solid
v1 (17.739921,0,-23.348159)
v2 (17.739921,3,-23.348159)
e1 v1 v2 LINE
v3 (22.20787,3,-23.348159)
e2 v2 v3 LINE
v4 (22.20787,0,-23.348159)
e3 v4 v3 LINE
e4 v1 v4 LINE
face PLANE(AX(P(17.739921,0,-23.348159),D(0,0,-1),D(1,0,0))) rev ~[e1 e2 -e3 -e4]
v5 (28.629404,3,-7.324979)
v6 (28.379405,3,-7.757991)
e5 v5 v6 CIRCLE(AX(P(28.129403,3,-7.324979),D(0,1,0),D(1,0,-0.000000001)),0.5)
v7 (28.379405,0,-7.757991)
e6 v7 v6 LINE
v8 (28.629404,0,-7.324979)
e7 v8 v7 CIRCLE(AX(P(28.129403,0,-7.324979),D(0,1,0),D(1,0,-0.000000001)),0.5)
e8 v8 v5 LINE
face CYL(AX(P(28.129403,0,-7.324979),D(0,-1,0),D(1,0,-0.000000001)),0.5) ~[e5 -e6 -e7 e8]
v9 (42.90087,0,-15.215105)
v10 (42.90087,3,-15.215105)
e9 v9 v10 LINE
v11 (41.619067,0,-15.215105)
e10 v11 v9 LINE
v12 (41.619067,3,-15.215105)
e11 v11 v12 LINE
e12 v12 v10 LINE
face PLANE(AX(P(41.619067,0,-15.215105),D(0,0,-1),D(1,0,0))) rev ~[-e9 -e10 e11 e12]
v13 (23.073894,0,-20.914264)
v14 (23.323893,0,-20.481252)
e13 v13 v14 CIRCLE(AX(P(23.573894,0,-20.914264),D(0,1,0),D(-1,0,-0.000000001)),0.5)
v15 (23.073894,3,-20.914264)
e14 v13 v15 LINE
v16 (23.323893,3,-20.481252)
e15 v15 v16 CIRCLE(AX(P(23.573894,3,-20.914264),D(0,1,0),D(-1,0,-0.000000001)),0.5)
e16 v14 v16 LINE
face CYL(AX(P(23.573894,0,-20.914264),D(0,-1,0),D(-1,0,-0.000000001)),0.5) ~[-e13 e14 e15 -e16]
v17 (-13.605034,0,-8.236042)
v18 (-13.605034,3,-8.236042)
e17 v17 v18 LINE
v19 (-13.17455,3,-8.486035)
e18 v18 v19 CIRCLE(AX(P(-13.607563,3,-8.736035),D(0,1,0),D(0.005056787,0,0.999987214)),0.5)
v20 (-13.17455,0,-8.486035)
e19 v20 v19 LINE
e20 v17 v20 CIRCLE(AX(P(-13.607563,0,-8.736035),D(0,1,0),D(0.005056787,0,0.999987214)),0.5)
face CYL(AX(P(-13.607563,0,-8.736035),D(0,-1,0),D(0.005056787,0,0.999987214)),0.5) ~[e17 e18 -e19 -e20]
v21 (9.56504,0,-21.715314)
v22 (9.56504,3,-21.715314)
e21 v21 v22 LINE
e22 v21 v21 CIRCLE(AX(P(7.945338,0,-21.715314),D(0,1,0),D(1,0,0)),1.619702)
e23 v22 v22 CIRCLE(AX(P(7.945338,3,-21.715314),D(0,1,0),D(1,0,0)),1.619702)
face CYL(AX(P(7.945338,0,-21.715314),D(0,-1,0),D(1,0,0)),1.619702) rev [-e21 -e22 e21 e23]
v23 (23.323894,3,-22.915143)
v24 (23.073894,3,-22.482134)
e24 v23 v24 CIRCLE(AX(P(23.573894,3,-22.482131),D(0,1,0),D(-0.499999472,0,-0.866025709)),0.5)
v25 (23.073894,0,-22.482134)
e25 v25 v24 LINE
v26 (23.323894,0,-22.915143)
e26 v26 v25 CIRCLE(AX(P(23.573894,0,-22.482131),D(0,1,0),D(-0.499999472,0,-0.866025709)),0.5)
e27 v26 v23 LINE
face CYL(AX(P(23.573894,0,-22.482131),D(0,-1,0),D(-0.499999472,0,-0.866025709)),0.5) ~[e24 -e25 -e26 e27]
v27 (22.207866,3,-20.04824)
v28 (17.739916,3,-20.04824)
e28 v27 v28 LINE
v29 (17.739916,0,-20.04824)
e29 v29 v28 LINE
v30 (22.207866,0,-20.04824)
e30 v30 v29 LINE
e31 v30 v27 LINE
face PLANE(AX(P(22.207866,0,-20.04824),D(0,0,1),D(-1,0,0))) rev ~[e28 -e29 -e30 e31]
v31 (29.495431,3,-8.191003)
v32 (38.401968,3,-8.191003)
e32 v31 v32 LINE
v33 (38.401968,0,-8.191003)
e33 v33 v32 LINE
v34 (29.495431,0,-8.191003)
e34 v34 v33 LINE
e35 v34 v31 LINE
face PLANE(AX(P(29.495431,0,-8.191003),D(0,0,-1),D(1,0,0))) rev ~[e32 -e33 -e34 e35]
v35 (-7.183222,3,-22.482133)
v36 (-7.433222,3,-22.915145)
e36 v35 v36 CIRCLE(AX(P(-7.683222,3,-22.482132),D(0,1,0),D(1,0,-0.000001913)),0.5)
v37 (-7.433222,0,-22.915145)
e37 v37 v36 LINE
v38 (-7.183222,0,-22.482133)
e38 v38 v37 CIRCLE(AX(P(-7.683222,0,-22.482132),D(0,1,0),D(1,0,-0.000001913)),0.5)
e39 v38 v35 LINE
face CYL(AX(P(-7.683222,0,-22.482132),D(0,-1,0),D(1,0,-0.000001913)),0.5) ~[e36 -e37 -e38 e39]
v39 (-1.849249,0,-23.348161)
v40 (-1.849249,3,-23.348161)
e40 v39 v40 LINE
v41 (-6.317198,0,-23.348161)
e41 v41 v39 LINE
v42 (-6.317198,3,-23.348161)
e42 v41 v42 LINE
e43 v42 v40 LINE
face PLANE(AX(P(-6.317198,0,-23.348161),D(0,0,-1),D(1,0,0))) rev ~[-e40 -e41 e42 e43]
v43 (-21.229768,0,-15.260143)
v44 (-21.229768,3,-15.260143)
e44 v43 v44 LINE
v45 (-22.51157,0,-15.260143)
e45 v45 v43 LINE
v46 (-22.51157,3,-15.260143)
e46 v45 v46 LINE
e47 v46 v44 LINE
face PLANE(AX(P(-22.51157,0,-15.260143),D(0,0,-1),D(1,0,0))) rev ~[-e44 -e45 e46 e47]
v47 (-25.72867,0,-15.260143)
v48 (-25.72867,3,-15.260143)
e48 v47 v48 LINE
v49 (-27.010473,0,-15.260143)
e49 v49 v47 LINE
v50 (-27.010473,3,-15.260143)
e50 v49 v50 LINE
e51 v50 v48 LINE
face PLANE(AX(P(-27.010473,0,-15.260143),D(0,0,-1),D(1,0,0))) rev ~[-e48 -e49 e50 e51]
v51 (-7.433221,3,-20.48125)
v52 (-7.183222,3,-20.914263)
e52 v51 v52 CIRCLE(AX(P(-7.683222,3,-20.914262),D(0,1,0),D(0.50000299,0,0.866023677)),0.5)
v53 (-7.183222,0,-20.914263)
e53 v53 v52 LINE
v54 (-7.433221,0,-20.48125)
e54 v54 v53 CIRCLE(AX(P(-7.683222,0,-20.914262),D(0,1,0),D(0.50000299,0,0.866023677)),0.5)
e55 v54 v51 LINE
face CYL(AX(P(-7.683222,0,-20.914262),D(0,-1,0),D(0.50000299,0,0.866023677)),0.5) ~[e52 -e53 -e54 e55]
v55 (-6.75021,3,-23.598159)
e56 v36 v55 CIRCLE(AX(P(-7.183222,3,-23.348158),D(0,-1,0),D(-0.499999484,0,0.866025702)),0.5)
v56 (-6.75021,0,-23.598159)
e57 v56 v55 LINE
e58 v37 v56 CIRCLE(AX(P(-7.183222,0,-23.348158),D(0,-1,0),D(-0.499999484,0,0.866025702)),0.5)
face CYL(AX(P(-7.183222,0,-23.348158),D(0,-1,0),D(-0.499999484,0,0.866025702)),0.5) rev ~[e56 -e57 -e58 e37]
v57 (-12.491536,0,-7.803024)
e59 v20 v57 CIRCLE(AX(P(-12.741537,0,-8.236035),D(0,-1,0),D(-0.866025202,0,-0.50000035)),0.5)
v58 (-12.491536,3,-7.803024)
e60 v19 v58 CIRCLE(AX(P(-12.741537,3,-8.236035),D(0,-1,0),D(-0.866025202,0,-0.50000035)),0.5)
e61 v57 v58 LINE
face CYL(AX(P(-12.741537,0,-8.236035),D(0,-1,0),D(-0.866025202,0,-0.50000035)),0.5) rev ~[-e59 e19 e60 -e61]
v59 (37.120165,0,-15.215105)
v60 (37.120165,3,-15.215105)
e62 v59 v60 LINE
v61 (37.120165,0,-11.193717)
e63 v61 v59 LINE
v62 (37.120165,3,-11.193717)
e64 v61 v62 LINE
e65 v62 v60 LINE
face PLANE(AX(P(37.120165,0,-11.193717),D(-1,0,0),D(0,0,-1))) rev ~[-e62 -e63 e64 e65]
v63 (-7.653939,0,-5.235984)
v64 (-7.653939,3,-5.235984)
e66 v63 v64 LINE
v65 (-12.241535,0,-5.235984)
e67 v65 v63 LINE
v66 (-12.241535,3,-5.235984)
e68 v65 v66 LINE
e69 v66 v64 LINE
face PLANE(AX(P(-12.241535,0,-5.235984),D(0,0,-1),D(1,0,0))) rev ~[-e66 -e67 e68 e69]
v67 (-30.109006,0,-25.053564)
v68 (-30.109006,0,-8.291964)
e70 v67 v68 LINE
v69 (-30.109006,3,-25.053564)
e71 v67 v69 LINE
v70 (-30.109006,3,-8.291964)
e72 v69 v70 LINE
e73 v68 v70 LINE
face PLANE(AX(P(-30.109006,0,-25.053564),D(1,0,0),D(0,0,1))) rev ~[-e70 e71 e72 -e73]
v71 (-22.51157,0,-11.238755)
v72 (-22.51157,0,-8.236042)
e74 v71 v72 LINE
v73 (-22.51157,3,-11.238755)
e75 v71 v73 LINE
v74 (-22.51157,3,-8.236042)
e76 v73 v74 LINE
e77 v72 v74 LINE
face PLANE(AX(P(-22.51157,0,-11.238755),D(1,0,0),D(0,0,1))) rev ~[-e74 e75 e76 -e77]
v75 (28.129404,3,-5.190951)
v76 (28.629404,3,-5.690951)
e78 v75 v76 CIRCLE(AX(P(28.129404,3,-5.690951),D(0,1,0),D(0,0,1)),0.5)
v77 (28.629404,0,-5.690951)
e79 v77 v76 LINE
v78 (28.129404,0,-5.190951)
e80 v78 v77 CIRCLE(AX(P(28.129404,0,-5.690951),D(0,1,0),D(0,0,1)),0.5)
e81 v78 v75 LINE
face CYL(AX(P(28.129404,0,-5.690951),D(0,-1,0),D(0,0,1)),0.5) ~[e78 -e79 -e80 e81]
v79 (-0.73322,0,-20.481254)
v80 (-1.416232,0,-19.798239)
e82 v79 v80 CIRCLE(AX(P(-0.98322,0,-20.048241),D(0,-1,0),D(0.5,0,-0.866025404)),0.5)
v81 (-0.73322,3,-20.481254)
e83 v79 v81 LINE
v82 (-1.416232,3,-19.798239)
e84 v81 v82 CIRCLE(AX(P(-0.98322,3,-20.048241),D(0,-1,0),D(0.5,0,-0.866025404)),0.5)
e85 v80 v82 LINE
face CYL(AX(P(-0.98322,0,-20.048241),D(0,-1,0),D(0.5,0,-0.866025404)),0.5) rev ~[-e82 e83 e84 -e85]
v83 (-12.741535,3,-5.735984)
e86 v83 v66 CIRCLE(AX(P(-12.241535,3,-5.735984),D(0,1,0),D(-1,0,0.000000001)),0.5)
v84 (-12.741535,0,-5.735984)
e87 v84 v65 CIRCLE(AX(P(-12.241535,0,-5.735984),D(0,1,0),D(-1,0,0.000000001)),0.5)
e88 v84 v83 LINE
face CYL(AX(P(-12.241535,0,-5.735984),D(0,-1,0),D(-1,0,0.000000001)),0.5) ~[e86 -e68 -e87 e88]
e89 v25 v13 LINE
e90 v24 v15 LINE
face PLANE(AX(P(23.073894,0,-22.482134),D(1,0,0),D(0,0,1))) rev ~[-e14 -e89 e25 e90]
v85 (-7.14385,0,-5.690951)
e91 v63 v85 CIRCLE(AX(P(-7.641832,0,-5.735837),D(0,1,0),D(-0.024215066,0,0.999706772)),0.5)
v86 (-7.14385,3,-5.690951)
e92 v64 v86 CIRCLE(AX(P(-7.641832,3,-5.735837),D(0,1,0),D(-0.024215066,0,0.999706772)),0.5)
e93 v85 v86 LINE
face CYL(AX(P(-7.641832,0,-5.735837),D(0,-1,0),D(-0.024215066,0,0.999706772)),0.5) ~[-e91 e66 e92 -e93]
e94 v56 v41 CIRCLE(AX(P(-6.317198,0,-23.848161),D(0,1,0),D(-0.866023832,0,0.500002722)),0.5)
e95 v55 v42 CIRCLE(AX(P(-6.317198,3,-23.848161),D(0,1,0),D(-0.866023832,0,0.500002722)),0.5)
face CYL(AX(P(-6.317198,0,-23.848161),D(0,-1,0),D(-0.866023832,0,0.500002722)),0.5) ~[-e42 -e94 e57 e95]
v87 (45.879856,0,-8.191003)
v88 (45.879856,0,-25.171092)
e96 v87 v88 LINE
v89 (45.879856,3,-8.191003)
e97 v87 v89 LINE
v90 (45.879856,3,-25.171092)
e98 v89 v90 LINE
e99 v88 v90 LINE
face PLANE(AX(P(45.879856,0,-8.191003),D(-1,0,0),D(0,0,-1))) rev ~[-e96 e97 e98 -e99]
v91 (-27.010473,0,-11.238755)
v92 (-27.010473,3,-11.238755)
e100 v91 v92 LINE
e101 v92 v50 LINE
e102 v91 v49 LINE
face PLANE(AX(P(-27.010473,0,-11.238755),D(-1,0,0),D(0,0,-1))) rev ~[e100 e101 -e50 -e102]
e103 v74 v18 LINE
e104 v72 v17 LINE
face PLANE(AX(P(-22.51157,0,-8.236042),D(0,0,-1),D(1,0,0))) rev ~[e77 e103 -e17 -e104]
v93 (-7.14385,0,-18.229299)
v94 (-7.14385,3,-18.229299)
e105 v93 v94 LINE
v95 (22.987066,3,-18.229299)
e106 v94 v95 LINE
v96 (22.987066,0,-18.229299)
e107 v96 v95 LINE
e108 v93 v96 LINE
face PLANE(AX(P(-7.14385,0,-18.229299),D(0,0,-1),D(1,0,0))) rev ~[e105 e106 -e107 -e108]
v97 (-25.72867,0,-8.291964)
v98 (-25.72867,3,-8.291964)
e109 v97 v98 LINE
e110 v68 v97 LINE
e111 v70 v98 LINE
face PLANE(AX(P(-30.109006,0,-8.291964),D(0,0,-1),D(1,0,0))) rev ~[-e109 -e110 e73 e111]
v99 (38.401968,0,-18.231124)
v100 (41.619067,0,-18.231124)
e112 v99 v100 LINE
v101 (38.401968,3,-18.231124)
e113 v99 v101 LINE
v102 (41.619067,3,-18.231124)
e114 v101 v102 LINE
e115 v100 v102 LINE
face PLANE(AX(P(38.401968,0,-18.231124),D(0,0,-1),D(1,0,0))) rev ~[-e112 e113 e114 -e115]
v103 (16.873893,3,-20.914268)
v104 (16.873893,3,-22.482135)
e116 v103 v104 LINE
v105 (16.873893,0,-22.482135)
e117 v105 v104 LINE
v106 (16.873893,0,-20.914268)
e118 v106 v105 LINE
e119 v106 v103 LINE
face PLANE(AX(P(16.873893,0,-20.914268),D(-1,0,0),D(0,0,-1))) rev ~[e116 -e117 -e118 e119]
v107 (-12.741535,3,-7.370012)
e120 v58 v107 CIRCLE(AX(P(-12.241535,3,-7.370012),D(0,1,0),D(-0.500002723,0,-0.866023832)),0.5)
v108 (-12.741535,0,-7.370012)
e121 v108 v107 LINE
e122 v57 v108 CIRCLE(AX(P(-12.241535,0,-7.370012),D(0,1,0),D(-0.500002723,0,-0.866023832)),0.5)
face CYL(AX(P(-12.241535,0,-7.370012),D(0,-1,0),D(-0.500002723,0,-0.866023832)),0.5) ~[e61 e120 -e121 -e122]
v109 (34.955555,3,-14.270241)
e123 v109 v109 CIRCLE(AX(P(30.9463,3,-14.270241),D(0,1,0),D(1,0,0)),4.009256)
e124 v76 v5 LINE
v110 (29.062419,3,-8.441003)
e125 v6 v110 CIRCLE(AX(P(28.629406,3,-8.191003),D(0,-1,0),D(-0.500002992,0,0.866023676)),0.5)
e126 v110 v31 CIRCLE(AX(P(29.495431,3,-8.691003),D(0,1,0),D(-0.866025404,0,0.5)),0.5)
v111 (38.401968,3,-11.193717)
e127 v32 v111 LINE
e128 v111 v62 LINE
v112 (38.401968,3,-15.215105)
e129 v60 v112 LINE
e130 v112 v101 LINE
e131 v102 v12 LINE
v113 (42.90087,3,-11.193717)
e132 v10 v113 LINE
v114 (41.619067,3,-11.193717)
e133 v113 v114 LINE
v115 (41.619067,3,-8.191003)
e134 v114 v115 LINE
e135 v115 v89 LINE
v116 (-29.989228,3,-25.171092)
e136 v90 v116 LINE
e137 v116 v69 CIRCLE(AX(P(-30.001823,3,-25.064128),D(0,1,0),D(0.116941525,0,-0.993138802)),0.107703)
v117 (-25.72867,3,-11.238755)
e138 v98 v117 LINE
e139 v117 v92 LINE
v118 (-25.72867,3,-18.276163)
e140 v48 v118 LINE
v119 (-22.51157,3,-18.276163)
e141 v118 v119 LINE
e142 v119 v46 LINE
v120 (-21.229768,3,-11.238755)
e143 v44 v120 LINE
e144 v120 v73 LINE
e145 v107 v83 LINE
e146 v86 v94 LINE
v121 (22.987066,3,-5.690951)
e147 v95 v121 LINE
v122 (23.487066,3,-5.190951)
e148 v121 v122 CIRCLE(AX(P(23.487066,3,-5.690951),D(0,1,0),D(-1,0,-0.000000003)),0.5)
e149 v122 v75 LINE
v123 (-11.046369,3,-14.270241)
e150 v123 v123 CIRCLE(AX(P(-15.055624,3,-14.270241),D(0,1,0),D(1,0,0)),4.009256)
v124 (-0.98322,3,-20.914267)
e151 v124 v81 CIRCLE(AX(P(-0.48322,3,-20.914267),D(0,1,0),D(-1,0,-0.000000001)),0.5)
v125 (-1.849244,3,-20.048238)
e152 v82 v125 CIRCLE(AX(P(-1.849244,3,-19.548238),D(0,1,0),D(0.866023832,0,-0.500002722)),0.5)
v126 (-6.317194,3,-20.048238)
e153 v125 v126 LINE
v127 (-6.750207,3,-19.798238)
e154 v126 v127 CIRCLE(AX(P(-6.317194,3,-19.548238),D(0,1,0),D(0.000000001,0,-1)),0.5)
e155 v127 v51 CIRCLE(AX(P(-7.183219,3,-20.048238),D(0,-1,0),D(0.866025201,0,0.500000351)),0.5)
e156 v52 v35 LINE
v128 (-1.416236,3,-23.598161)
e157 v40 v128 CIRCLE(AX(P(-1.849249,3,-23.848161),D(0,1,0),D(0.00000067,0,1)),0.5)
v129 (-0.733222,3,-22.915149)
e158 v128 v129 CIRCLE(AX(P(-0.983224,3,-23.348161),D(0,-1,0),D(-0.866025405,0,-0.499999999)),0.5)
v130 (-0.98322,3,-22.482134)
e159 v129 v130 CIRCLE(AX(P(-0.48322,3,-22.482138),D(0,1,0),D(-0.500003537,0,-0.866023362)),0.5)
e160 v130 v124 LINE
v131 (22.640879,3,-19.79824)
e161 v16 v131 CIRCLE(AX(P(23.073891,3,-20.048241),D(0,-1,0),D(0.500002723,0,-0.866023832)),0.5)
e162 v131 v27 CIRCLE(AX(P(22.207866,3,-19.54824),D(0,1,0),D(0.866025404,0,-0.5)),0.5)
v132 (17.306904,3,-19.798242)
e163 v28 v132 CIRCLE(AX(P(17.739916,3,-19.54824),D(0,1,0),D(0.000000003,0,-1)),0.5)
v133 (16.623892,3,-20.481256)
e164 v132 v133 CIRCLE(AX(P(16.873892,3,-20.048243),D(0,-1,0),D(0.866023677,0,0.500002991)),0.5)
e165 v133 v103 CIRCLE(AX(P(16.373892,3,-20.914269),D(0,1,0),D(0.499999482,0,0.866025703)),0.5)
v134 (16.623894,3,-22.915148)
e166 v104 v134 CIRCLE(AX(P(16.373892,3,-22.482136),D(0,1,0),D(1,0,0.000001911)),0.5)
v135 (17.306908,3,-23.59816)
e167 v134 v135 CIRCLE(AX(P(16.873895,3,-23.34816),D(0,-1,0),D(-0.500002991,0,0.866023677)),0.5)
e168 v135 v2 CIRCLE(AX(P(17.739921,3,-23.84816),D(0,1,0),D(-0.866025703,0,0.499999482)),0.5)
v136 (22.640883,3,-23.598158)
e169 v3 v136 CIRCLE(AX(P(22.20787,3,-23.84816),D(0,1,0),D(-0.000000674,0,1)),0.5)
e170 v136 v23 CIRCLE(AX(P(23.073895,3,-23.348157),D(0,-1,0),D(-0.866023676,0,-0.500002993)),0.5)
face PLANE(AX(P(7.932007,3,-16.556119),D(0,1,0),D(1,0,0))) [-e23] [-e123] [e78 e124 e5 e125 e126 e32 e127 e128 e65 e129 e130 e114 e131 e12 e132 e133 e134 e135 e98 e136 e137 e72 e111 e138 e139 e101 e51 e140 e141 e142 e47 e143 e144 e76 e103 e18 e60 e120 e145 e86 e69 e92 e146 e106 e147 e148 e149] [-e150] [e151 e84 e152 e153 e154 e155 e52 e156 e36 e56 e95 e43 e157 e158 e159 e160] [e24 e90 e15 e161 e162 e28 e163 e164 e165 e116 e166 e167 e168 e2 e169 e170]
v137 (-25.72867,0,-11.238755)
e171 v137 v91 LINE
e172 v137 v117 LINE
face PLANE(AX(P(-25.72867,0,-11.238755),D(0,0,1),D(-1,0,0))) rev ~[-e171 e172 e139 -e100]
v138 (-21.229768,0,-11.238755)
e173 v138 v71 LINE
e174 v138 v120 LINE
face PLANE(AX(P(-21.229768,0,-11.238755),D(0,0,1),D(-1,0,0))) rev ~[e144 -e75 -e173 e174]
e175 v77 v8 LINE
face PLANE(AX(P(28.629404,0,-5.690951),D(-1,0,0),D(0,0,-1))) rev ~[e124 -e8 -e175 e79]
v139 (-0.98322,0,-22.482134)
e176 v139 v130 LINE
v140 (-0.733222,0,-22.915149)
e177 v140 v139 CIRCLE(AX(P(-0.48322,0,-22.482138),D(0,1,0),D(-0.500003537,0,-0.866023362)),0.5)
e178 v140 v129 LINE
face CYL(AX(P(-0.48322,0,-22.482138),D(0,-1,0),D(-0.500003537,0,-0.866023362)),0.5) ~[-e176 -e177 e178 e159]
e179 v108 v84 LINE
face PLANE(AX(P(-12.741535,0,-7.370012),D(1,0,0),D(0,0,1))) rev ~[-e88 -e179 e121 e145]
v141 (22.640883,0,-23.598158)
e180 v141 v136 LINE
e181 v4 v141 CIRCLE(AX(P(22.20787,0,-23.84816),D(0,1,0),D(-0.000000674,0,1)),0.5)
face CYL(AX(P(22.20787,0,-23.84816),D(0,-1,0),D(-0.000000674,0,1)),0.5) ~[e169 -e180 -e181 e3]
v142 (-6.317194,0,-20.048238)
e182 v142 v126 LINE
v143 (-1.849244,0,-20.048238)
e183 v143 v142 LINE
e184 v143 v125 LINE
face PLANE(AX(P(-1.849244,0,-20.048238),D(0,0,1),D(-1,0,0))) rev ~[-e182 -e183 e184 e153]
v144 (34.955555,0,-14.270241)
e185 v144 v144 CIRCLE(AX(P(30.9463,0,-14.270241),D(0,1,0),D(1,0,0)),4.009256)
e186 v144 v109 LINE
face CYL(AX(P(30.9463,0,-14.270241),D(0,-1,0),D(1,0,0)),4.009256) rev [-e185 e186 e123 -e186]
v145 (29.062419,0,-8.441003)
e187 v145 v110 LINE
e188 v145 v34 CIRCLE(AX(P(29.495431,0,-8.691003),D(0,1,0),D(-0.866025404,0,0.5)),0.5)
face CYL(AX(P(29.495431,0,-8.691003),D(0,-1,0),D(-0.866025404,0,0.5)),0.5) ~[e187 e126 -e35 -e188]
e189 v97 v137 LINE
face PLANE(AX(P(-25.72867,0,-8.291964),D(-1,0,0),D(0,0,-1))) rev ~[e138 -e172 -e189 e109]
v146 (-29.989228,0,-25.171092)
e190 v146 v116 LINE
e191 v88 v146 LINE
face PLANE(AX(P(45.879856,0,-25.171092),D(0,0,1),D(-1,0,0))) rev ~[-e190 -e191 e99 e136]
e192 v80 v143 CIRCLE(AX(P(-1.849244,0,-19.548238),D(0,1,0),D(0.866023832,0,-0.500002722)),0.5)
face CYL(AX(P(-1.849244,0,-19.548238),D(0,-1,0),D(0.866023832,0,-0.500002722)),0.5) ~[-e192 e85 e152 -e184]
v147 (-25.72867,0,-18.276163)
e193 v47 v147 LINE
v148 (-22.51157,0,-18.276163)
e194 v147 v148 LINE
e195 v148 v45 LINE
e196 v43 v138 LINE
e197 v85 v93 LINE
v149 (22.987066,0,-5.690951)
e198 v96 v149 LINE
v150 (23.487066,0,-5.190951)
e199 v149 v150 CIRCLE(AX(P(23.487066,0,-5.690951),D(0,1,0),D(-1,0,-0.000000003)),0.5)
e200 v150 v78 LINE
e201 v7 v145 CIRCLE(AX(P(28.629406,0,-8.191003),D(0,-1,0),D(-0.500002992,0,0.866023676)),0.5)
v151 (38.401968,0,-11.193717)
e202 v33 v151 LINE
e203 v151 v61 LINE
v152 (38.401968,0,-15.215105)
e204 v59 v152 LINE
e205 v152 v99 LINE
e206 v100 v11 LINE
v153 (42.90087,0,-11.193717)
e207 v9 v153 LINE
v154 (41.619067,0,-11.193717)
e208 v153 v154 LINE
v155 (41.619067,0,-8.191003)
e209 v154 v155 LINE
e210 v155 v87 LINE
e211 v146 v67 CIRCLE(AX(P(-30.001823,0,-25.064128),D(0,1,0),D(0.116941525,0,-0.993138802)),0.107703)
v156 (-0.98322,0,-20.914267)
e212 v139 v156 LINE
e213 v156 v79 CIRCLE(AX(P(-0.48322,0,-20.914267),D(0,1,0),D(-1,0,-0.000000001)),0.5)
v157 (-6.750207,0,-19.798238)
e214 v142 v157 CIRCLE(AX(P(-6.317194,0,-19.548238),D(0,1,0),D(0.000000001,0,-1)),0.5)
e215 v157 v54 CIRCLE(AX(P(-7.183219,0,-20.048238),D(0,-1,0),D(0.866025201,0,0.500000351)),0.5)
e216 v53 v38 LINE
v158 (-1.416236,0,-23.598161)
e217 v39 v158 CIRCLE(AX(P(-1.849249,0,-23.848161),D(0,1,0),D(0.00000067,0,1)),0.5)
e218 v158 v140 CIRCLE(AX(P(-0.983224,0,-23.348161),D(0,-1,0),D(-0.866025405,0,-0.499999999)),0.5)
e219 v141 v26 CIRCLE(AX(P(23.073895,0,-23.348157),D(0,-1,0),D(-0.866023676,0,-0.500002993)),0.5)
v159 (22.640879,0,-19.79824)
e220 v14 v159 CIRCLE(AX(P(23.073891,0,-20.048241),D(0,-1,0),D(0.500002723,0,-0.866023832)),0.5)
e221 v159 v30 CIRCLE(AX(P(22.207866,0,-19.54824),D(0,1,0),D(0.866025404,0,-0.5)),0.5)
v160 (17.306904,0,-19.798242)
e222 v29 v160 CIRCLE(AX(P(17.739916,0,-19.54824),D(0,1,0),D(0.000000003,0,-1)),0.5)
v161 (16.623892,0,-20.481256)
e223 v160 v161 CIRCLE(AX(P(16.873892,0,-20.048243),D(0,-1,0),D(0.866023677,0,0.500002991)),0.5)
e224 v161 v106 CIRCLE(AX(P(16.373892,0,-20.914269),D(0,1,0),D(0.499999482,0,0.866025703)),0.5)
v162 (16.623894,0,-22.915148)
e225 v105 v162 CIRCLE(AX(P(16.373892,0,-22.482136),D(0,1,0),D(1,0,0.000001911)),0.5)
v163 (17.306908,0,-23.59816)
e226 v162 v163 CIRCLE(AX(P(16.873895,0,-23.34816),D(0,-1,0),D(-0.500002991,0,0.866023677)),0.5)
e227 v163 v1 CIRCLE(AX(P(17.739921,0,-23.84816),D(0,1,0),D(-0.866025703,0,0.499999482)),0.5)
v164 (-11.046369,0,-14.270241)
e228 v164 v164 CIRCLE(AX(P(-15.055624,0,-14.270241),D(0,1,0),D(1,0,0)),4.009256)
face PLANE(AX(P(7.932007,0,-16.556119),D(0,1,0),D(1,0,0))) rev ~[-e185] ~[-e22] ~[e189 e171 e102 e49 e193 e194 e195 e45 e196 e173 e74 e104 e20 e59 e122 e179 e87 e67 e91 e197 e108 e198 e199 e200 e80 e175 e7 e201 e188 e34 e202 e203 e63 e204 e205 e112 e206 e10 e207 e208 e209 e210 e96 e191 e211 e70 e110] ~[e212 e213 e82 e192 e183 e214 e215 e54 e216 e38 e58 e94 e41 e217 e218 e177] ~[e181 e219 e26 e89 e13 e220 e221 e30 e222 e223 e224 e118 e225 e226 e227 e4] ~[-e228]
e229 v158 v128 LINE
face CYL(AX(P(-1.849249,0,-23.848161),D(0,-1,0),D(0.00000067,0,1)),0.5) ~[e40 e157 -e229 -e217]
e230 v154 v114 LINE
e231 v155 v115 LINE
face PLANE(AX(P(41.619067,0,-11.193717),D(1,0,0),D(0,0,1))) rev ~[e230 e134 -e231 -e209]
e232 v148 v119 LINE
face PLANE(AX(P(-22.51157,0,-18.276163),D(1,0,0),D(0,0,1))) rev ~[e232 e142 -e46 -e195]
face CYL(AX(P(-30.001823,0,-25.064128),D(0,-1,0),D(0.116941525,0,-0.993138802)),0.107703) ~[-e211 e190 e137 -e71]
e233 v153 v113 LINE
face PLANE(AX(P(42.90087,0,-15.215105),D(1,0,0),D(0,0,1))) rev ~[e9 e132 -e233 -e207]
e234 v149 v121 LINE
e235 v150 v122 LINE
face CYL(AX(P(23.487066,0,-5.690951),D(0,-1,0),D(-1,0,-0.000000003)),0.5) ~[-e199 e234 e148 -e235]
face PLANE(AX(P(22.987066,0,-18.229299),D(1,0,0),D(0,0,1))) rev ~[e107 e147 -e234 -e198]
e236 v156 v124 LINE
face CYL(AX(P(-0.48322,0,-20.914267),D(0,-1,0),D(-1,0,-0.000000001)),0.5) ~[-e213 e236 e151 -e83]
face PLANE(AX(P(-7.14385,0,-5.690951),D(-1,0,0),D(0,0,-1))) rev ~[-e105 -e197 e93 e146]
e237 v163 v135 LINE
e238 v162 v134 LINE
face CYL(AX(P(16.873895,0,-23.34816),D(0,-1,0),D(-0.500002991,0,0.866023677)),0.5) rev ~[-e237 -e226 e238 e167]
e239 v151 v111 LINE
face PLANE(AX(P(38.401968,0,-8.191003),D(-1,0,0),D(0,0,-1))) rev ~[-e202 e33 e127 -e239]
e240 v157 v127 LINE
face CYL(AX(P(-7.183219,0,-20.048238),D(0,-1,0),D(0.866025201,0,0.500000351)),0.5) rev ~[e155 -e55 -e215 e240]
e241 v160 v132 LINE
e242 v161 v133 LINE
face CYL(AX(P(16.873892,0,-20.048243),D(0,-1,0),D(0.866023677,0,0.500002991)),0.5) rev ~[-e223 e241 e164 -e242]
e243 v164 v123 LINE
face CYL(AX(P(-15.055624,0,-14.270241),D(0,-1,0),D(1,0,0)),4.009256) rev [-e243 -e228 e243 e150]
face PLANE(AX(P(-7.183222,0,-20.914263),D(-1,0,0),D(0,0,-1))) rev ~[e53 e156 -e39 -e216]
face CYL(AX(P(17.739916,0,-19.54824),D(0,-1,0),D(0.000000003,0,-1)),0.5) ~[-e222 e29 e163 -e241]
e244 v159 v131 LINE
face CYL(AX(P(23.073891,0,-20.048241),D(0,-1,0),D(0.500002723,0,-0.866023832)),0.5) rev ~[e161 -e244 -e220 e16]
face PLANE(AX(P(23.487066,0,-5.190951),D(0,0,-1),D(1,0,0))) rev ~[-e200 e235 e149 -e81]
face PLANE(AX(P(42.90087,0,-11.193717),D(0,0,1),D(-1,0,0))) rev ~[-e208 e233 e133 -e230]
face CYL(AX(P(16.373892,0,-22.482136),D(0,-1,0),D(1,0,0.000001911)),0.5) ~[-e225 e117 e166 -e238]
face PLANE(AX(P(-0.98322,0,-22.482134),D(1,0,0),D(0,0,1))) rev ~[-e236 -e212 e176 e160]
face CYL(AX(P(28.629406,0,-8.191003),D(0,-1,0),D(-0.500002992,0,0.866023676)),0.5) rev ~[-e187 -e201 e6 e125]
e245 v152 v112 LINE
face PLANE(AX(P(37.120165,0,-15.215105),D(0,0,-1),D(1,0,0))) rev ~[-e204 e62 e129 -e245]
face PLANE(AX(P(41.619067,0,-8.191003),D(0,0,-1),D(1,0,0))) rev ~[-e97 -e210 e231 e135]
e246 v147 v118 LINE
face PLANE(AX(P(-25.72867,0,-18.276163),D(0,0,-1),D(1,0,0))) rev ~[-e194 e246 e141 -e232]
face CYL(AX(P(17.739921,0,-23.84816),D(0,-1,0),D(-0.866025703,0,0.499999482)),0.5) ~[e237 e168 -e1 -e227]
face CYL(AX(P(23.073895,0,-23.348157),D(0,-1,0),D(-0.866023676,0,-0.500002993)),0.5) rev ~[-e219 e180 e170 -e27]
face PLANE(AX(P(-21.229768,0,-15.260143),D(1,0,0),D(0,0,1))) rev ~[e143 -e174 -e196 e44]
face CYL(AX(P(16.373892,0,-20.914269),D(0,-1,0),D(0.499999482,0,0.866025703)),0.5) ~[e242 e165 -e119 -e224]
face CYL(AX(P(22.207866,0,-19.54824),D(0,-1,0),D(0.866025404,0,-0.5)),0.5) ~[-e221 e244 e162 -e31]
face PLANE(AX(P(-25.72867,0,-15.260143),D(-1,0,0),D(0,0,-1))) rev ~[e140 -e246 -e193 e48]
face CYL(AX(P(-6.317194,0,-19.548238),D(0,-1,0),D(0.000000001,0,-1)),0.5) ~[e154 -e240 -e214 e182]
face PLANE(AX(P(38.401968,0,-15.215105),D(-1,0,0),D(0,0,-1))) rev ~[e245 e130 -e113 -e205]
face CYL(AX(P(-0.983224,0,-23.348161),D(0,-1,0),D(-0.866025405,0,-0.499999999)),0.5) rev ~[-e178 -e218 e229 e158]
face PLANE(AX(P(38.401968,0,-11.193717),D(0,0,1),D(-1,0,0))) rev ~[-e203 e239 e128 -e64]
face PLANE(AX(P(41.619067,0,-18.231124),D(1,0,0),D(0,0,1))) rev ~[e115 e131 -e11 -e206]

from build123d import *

# Parameters (mm, degrees)
SKETCH1_R           = 4.009255558
SKETCH1_R_2         = 1.619702369
BOSS_EXTRUDE1_DEPTH = 3


with BuildPart() as part:
    # Sketch1 → Boss-Extrude1 (new body)
    with BuildSketch(Plane(origin=(0, 0, 0), x_dir=(1, 0, 0), z_dir=(0, 1, 0))):
        with BuildLine():
            Line((-7.143850408, 18.229298667), (22.987065755, 18.229298667))
            Line((22.987065755, 18.229298667), (22.987065755, 7.324979297))
            Line((22.987065755, 7.324979297), (22.987065755, 5.690951323))
            ThreePointArc((22.987065755, 5.690951323), (23.133512364, 5.337397932), (23.487065755, 5.190951323))
            Line((23.487065755, 5.190951323), (28.129403654, 5.190951323))
            ThreePointArc((28.129403654, 5.190951323), (28.482956988, 5.337397909), (28.629403574, 5.690951243))
            Line((28.629403574, 5.690951243), (28.629403574, 7.324979243))
            ThreePointArc((28.629403574, 7.324979243), (28.56241665, 7.574978633), (28.379404865, 7.757991282))
            ThreePointArc((28.379404865, 7.757991282), (28.275853546, 8.544556775), (29.062418723, 8.441003056))
            ThreePointArc((29.062418723, 8.441003056), (29.245431425, 8.257990354), (29.495431425, 8.191003056))
            Line((29.495431425, 8.191003056), (38.401967533, 8.191003056))
            Line((38.401967533, 8.191003056), (38.401967533, 11.193716571))
            Line((38.401967533, 11.193716571), (37.120165143, 11.193716571))
            Line((37.120165143, 11.193716571), (37.120165143, 15.215104531))
            Line((37.120165143, 15.215104531), (38.40196755, 15.215104531))
            Line((38.40196755, 15.215104531), (38.40196755, 18.231124388))
            Line((38.40196755, 18.231124388), (41.619067462, 18.231124388))
            Line((41.619067462, 18.231124388), (41.619067462, 15.215104531))
            Line((41.619067462, 15.215104531), (42.900869869, 15.215104531))
            Line((42.900869869, 15.215104531), (42.900869869, 11.193716571))
            Line((42.900869869, 11.193716571), (41.619067445, 11.193716571))
            Line((41.619067445, 11.193716571), (41.619067445, 8.191003056))
            Line((41.619067445, 8.191003056), (45.879856116, 8.191003056))
            Line((45.879856116, 8.191003056), (45.879856116, 25.171092004))
            Line((45.879856116, 25.171092004), (-29.989227631, 25.171092004))
            ThreePointArc((-29.989227631, 25.171092004), (-30.077254418, 25.14100432), (-30.109006218, 25.053564013))
            Line((-30.109006218, 25.053564013), (-30.109006218, 8.29196371))
            Line((-30.109006218, 8.29196371), (-25.72867026, 8.29196371))
            Line((-25.72867026, 8.29196371), (-25.72867026, 11.238755399))
            Line((-25.72867026, 11.238755399), (-27.010472684, 11.238755399))
            Line((-27.010472684, 11.238755399), (-27.010472684, 15.260143358))
            Line((-27.010472684, 15.260143358), (-25.728670277, 15.260143358))
            Line((-25.728670277, 15.260143358), (-25.728670277, 18.276163216))
            Line((-25.728670277, 18.276163216), (-22.511570365, 18.276163216))
            Line((-22.511570365, 18.276163216), (-22.511570365, 15.260143358))
            Line((-22.511570365, 15.260143358), (-21.229767957, 15.260143358))
            Line((-21.229767957, 15.260143358), (-21.229767957, 11.238755399))
            Line((-21.229767957, 11.238755399), (-22.511570348, 11.238755399))
            Line((-22.511570348, 11.238755399), (-22.511570348, 8.236041884))
            Line((-22.511570348, 8.236041884), (-13.60503424, 8.236041884))
            ThreePointArc((-13.60503424, 8.236041884), (-13.356468602, 8.303656274), (-13.174549931, 8.486035491))
            ThreePointArc((-13.174549931, 8.486035491), (-12.387984754, 8.58958921), (-12.491536073, 7.803023717))
            ThreePointArc((-12.491536073, 7.803023717), (-12.674547858, 7.620011069), (-12.741534782, 7.370011678))
            Line((-12.741534782, 7.370011678), (-12.741534782, 5.735983678))
            ThreePointArc((-12.741534782, 5.735983678), (-12.595088173, 5.382430288), (-12.241534782, 5.235983678))
            Line((-12.241534782, 5.235983678), (-7.653939136, 5.235983678))
            ThreePointArc((-7.653939136, 5.235983678), (-7.309014548, 5.362697937), (-7.143850408, 5.690951317))
            Line((-7.143850408, 5.690951317), (-7.143850408, 7.324979297))
            Line((-7.143850408, 7.324979297), (-7.143850408, 18.229298667))
        make_face()
        with Locations((-15.055624081, 14.270241393)):
            Circle(SKETCH1_R, mode=Mode.SUBTRACT)
        with Locations((30.946299637, 14.270241393)):
            Circle(SKETCH1_R, mode=Mode.SUBTRACT)
        with BuildLine():
            ThreePointArc((-6.750210098, 23.598159475), (-6.567197449, 23.415147689), (-6.317198059, 23.348160765))
            Line((-6.317198059, 23.348160765), (-1.849249059, 23.348160765))
            ThreePointArc((-1.849249059, 23.348160765), (-1.599248991, 23.415148256), (-1.41623632, 23.598161152))
            ThreePointArc((-1.41623632, 23.598161152), (-0.629670838, 23.701715154), (-0.733222121, 22.915149315))
            ThreePointArc((-0.733222121, 22.915149315), (-0.916234557, 22.73213507), (-0.983220424, 22.482133752))
            Line((-0.983220424, 22.482133752), (-0.983220424, 20.914266752))
            ThreePointArc((-0.983220424, 20.914266752), (-0.916233017, 20.664266494), (-0.733220037, 20.481253678))
            ThreePointArc((-0.733220037, 20.481253678), (-0.629666036, 19.694688196), (-1.416231875, 19.798239479))
            ThreePointArc((-1.416231875, 19.798239479), (-1.599244524, 19.981251265), (-1.849243914, 20.048238189))
            Line((-1.849243914, 20.048238189), (-6.317193914, 20.048238189))
            ThreePointArc((-6.317193914, 20.048238189), (-6.567193914, 19.981250891), (-6.750206616, 19.798238189))
            ThreePointArc((-6.750206616, 19.798238189), (-7.536772071, 19.694684496), (-7.433220534, 20.481250235))
            ThreePointArc((-7.433220534, 20.481250235), (-7.250208657, 20.664263235), (-7.18322203, 20.91426303))
            Line((-7.18322203, 20.91426303), (-7.18322203, 22.48213303))
            ThreePointArc((-7.18322203, 22.48213303), (-7.250209567, 22.732132487), (-7.43322203, 22.915144775))
            ThreePointArc((-7.43322203, 22.915144775), (-7.536776448, 23.701710706), (-6.750210098, 23.598159475))
        make_face(mode=Mode.SUBTRACT)
        with Locations((7.945337781, 21.71531407)):
            Circle(SKETCH1_R_2, mode=Mode.SUBTRACT)
        with BuildLine():
            Line((17.739921148, 23.348159476), (22.207870148, 23.348159476))
            ThreePointArc((22.207870148, 23.348159476), (22.457869729, 23.415146316), (22.640882523, 23.598158186))
            ThreePointArc((22.640882523, 23.598158186), (23.427448874, 23.701709417), (23.323894455, 22.915143486))
            ThreePointArc((23.323894455, 22.915143486), (23.140882484, 22.732132355), (23.073894191, 22.482134307))
            Line((23.073894191, 22.482134307), (23.073894191, 20.914264307))
            ThreePointArc((23.073894191, 20.914264307), (23.140881057, 20.664265055), (23.323892694, 20.481252469))
            ThreePointArc((23.323892694, 20.481252469), (23.427444232, 19.69468673), (22.640878777, 19.798240423))
            ThreePointArc((22.640878777, 19.798240423), (22.457866075, 19.981253125), (22.207866075, 20.048240423))
            Line((22.207866075, 20.048240423), (17.739916075, 20.048240423))
            ThreePointArc((17.739916075, 20.048240423), (17.489916684, 19.981253499), (17.306904036, 19.798241714))
            ThreePointArc((17.306904036, 19.798241714), (16.520338196, 19.69469043), (16.623892198, 20.481255912))
            ThreePointArc((16.623892198, 20.481255912), (16.806904939, 20.664268314), (16.873892585, 20.91426803))
            Line((16.873892585, 20.91426803), (16.873892585, 22.48213503))
            ThreePointArc((16.873892585, 22.48213503), (16.8069059, 22.732134962), (16.623893876, 22.915148025))
            ThreePointArc((16.623893876, 22.915148025), (16.520342592, 23.701713865), (17.306908074, 23.598159863))
            ThreePointArc((17.306908074, 23.598159863), (17.48992089, 23.415146883), (17.739921148, 23.348159476))
        make_face(mode=Mode.SUBTRACT)
    extrude(amount=BOSS_EXTRUDE1_DEPTH)


solid = part.part
